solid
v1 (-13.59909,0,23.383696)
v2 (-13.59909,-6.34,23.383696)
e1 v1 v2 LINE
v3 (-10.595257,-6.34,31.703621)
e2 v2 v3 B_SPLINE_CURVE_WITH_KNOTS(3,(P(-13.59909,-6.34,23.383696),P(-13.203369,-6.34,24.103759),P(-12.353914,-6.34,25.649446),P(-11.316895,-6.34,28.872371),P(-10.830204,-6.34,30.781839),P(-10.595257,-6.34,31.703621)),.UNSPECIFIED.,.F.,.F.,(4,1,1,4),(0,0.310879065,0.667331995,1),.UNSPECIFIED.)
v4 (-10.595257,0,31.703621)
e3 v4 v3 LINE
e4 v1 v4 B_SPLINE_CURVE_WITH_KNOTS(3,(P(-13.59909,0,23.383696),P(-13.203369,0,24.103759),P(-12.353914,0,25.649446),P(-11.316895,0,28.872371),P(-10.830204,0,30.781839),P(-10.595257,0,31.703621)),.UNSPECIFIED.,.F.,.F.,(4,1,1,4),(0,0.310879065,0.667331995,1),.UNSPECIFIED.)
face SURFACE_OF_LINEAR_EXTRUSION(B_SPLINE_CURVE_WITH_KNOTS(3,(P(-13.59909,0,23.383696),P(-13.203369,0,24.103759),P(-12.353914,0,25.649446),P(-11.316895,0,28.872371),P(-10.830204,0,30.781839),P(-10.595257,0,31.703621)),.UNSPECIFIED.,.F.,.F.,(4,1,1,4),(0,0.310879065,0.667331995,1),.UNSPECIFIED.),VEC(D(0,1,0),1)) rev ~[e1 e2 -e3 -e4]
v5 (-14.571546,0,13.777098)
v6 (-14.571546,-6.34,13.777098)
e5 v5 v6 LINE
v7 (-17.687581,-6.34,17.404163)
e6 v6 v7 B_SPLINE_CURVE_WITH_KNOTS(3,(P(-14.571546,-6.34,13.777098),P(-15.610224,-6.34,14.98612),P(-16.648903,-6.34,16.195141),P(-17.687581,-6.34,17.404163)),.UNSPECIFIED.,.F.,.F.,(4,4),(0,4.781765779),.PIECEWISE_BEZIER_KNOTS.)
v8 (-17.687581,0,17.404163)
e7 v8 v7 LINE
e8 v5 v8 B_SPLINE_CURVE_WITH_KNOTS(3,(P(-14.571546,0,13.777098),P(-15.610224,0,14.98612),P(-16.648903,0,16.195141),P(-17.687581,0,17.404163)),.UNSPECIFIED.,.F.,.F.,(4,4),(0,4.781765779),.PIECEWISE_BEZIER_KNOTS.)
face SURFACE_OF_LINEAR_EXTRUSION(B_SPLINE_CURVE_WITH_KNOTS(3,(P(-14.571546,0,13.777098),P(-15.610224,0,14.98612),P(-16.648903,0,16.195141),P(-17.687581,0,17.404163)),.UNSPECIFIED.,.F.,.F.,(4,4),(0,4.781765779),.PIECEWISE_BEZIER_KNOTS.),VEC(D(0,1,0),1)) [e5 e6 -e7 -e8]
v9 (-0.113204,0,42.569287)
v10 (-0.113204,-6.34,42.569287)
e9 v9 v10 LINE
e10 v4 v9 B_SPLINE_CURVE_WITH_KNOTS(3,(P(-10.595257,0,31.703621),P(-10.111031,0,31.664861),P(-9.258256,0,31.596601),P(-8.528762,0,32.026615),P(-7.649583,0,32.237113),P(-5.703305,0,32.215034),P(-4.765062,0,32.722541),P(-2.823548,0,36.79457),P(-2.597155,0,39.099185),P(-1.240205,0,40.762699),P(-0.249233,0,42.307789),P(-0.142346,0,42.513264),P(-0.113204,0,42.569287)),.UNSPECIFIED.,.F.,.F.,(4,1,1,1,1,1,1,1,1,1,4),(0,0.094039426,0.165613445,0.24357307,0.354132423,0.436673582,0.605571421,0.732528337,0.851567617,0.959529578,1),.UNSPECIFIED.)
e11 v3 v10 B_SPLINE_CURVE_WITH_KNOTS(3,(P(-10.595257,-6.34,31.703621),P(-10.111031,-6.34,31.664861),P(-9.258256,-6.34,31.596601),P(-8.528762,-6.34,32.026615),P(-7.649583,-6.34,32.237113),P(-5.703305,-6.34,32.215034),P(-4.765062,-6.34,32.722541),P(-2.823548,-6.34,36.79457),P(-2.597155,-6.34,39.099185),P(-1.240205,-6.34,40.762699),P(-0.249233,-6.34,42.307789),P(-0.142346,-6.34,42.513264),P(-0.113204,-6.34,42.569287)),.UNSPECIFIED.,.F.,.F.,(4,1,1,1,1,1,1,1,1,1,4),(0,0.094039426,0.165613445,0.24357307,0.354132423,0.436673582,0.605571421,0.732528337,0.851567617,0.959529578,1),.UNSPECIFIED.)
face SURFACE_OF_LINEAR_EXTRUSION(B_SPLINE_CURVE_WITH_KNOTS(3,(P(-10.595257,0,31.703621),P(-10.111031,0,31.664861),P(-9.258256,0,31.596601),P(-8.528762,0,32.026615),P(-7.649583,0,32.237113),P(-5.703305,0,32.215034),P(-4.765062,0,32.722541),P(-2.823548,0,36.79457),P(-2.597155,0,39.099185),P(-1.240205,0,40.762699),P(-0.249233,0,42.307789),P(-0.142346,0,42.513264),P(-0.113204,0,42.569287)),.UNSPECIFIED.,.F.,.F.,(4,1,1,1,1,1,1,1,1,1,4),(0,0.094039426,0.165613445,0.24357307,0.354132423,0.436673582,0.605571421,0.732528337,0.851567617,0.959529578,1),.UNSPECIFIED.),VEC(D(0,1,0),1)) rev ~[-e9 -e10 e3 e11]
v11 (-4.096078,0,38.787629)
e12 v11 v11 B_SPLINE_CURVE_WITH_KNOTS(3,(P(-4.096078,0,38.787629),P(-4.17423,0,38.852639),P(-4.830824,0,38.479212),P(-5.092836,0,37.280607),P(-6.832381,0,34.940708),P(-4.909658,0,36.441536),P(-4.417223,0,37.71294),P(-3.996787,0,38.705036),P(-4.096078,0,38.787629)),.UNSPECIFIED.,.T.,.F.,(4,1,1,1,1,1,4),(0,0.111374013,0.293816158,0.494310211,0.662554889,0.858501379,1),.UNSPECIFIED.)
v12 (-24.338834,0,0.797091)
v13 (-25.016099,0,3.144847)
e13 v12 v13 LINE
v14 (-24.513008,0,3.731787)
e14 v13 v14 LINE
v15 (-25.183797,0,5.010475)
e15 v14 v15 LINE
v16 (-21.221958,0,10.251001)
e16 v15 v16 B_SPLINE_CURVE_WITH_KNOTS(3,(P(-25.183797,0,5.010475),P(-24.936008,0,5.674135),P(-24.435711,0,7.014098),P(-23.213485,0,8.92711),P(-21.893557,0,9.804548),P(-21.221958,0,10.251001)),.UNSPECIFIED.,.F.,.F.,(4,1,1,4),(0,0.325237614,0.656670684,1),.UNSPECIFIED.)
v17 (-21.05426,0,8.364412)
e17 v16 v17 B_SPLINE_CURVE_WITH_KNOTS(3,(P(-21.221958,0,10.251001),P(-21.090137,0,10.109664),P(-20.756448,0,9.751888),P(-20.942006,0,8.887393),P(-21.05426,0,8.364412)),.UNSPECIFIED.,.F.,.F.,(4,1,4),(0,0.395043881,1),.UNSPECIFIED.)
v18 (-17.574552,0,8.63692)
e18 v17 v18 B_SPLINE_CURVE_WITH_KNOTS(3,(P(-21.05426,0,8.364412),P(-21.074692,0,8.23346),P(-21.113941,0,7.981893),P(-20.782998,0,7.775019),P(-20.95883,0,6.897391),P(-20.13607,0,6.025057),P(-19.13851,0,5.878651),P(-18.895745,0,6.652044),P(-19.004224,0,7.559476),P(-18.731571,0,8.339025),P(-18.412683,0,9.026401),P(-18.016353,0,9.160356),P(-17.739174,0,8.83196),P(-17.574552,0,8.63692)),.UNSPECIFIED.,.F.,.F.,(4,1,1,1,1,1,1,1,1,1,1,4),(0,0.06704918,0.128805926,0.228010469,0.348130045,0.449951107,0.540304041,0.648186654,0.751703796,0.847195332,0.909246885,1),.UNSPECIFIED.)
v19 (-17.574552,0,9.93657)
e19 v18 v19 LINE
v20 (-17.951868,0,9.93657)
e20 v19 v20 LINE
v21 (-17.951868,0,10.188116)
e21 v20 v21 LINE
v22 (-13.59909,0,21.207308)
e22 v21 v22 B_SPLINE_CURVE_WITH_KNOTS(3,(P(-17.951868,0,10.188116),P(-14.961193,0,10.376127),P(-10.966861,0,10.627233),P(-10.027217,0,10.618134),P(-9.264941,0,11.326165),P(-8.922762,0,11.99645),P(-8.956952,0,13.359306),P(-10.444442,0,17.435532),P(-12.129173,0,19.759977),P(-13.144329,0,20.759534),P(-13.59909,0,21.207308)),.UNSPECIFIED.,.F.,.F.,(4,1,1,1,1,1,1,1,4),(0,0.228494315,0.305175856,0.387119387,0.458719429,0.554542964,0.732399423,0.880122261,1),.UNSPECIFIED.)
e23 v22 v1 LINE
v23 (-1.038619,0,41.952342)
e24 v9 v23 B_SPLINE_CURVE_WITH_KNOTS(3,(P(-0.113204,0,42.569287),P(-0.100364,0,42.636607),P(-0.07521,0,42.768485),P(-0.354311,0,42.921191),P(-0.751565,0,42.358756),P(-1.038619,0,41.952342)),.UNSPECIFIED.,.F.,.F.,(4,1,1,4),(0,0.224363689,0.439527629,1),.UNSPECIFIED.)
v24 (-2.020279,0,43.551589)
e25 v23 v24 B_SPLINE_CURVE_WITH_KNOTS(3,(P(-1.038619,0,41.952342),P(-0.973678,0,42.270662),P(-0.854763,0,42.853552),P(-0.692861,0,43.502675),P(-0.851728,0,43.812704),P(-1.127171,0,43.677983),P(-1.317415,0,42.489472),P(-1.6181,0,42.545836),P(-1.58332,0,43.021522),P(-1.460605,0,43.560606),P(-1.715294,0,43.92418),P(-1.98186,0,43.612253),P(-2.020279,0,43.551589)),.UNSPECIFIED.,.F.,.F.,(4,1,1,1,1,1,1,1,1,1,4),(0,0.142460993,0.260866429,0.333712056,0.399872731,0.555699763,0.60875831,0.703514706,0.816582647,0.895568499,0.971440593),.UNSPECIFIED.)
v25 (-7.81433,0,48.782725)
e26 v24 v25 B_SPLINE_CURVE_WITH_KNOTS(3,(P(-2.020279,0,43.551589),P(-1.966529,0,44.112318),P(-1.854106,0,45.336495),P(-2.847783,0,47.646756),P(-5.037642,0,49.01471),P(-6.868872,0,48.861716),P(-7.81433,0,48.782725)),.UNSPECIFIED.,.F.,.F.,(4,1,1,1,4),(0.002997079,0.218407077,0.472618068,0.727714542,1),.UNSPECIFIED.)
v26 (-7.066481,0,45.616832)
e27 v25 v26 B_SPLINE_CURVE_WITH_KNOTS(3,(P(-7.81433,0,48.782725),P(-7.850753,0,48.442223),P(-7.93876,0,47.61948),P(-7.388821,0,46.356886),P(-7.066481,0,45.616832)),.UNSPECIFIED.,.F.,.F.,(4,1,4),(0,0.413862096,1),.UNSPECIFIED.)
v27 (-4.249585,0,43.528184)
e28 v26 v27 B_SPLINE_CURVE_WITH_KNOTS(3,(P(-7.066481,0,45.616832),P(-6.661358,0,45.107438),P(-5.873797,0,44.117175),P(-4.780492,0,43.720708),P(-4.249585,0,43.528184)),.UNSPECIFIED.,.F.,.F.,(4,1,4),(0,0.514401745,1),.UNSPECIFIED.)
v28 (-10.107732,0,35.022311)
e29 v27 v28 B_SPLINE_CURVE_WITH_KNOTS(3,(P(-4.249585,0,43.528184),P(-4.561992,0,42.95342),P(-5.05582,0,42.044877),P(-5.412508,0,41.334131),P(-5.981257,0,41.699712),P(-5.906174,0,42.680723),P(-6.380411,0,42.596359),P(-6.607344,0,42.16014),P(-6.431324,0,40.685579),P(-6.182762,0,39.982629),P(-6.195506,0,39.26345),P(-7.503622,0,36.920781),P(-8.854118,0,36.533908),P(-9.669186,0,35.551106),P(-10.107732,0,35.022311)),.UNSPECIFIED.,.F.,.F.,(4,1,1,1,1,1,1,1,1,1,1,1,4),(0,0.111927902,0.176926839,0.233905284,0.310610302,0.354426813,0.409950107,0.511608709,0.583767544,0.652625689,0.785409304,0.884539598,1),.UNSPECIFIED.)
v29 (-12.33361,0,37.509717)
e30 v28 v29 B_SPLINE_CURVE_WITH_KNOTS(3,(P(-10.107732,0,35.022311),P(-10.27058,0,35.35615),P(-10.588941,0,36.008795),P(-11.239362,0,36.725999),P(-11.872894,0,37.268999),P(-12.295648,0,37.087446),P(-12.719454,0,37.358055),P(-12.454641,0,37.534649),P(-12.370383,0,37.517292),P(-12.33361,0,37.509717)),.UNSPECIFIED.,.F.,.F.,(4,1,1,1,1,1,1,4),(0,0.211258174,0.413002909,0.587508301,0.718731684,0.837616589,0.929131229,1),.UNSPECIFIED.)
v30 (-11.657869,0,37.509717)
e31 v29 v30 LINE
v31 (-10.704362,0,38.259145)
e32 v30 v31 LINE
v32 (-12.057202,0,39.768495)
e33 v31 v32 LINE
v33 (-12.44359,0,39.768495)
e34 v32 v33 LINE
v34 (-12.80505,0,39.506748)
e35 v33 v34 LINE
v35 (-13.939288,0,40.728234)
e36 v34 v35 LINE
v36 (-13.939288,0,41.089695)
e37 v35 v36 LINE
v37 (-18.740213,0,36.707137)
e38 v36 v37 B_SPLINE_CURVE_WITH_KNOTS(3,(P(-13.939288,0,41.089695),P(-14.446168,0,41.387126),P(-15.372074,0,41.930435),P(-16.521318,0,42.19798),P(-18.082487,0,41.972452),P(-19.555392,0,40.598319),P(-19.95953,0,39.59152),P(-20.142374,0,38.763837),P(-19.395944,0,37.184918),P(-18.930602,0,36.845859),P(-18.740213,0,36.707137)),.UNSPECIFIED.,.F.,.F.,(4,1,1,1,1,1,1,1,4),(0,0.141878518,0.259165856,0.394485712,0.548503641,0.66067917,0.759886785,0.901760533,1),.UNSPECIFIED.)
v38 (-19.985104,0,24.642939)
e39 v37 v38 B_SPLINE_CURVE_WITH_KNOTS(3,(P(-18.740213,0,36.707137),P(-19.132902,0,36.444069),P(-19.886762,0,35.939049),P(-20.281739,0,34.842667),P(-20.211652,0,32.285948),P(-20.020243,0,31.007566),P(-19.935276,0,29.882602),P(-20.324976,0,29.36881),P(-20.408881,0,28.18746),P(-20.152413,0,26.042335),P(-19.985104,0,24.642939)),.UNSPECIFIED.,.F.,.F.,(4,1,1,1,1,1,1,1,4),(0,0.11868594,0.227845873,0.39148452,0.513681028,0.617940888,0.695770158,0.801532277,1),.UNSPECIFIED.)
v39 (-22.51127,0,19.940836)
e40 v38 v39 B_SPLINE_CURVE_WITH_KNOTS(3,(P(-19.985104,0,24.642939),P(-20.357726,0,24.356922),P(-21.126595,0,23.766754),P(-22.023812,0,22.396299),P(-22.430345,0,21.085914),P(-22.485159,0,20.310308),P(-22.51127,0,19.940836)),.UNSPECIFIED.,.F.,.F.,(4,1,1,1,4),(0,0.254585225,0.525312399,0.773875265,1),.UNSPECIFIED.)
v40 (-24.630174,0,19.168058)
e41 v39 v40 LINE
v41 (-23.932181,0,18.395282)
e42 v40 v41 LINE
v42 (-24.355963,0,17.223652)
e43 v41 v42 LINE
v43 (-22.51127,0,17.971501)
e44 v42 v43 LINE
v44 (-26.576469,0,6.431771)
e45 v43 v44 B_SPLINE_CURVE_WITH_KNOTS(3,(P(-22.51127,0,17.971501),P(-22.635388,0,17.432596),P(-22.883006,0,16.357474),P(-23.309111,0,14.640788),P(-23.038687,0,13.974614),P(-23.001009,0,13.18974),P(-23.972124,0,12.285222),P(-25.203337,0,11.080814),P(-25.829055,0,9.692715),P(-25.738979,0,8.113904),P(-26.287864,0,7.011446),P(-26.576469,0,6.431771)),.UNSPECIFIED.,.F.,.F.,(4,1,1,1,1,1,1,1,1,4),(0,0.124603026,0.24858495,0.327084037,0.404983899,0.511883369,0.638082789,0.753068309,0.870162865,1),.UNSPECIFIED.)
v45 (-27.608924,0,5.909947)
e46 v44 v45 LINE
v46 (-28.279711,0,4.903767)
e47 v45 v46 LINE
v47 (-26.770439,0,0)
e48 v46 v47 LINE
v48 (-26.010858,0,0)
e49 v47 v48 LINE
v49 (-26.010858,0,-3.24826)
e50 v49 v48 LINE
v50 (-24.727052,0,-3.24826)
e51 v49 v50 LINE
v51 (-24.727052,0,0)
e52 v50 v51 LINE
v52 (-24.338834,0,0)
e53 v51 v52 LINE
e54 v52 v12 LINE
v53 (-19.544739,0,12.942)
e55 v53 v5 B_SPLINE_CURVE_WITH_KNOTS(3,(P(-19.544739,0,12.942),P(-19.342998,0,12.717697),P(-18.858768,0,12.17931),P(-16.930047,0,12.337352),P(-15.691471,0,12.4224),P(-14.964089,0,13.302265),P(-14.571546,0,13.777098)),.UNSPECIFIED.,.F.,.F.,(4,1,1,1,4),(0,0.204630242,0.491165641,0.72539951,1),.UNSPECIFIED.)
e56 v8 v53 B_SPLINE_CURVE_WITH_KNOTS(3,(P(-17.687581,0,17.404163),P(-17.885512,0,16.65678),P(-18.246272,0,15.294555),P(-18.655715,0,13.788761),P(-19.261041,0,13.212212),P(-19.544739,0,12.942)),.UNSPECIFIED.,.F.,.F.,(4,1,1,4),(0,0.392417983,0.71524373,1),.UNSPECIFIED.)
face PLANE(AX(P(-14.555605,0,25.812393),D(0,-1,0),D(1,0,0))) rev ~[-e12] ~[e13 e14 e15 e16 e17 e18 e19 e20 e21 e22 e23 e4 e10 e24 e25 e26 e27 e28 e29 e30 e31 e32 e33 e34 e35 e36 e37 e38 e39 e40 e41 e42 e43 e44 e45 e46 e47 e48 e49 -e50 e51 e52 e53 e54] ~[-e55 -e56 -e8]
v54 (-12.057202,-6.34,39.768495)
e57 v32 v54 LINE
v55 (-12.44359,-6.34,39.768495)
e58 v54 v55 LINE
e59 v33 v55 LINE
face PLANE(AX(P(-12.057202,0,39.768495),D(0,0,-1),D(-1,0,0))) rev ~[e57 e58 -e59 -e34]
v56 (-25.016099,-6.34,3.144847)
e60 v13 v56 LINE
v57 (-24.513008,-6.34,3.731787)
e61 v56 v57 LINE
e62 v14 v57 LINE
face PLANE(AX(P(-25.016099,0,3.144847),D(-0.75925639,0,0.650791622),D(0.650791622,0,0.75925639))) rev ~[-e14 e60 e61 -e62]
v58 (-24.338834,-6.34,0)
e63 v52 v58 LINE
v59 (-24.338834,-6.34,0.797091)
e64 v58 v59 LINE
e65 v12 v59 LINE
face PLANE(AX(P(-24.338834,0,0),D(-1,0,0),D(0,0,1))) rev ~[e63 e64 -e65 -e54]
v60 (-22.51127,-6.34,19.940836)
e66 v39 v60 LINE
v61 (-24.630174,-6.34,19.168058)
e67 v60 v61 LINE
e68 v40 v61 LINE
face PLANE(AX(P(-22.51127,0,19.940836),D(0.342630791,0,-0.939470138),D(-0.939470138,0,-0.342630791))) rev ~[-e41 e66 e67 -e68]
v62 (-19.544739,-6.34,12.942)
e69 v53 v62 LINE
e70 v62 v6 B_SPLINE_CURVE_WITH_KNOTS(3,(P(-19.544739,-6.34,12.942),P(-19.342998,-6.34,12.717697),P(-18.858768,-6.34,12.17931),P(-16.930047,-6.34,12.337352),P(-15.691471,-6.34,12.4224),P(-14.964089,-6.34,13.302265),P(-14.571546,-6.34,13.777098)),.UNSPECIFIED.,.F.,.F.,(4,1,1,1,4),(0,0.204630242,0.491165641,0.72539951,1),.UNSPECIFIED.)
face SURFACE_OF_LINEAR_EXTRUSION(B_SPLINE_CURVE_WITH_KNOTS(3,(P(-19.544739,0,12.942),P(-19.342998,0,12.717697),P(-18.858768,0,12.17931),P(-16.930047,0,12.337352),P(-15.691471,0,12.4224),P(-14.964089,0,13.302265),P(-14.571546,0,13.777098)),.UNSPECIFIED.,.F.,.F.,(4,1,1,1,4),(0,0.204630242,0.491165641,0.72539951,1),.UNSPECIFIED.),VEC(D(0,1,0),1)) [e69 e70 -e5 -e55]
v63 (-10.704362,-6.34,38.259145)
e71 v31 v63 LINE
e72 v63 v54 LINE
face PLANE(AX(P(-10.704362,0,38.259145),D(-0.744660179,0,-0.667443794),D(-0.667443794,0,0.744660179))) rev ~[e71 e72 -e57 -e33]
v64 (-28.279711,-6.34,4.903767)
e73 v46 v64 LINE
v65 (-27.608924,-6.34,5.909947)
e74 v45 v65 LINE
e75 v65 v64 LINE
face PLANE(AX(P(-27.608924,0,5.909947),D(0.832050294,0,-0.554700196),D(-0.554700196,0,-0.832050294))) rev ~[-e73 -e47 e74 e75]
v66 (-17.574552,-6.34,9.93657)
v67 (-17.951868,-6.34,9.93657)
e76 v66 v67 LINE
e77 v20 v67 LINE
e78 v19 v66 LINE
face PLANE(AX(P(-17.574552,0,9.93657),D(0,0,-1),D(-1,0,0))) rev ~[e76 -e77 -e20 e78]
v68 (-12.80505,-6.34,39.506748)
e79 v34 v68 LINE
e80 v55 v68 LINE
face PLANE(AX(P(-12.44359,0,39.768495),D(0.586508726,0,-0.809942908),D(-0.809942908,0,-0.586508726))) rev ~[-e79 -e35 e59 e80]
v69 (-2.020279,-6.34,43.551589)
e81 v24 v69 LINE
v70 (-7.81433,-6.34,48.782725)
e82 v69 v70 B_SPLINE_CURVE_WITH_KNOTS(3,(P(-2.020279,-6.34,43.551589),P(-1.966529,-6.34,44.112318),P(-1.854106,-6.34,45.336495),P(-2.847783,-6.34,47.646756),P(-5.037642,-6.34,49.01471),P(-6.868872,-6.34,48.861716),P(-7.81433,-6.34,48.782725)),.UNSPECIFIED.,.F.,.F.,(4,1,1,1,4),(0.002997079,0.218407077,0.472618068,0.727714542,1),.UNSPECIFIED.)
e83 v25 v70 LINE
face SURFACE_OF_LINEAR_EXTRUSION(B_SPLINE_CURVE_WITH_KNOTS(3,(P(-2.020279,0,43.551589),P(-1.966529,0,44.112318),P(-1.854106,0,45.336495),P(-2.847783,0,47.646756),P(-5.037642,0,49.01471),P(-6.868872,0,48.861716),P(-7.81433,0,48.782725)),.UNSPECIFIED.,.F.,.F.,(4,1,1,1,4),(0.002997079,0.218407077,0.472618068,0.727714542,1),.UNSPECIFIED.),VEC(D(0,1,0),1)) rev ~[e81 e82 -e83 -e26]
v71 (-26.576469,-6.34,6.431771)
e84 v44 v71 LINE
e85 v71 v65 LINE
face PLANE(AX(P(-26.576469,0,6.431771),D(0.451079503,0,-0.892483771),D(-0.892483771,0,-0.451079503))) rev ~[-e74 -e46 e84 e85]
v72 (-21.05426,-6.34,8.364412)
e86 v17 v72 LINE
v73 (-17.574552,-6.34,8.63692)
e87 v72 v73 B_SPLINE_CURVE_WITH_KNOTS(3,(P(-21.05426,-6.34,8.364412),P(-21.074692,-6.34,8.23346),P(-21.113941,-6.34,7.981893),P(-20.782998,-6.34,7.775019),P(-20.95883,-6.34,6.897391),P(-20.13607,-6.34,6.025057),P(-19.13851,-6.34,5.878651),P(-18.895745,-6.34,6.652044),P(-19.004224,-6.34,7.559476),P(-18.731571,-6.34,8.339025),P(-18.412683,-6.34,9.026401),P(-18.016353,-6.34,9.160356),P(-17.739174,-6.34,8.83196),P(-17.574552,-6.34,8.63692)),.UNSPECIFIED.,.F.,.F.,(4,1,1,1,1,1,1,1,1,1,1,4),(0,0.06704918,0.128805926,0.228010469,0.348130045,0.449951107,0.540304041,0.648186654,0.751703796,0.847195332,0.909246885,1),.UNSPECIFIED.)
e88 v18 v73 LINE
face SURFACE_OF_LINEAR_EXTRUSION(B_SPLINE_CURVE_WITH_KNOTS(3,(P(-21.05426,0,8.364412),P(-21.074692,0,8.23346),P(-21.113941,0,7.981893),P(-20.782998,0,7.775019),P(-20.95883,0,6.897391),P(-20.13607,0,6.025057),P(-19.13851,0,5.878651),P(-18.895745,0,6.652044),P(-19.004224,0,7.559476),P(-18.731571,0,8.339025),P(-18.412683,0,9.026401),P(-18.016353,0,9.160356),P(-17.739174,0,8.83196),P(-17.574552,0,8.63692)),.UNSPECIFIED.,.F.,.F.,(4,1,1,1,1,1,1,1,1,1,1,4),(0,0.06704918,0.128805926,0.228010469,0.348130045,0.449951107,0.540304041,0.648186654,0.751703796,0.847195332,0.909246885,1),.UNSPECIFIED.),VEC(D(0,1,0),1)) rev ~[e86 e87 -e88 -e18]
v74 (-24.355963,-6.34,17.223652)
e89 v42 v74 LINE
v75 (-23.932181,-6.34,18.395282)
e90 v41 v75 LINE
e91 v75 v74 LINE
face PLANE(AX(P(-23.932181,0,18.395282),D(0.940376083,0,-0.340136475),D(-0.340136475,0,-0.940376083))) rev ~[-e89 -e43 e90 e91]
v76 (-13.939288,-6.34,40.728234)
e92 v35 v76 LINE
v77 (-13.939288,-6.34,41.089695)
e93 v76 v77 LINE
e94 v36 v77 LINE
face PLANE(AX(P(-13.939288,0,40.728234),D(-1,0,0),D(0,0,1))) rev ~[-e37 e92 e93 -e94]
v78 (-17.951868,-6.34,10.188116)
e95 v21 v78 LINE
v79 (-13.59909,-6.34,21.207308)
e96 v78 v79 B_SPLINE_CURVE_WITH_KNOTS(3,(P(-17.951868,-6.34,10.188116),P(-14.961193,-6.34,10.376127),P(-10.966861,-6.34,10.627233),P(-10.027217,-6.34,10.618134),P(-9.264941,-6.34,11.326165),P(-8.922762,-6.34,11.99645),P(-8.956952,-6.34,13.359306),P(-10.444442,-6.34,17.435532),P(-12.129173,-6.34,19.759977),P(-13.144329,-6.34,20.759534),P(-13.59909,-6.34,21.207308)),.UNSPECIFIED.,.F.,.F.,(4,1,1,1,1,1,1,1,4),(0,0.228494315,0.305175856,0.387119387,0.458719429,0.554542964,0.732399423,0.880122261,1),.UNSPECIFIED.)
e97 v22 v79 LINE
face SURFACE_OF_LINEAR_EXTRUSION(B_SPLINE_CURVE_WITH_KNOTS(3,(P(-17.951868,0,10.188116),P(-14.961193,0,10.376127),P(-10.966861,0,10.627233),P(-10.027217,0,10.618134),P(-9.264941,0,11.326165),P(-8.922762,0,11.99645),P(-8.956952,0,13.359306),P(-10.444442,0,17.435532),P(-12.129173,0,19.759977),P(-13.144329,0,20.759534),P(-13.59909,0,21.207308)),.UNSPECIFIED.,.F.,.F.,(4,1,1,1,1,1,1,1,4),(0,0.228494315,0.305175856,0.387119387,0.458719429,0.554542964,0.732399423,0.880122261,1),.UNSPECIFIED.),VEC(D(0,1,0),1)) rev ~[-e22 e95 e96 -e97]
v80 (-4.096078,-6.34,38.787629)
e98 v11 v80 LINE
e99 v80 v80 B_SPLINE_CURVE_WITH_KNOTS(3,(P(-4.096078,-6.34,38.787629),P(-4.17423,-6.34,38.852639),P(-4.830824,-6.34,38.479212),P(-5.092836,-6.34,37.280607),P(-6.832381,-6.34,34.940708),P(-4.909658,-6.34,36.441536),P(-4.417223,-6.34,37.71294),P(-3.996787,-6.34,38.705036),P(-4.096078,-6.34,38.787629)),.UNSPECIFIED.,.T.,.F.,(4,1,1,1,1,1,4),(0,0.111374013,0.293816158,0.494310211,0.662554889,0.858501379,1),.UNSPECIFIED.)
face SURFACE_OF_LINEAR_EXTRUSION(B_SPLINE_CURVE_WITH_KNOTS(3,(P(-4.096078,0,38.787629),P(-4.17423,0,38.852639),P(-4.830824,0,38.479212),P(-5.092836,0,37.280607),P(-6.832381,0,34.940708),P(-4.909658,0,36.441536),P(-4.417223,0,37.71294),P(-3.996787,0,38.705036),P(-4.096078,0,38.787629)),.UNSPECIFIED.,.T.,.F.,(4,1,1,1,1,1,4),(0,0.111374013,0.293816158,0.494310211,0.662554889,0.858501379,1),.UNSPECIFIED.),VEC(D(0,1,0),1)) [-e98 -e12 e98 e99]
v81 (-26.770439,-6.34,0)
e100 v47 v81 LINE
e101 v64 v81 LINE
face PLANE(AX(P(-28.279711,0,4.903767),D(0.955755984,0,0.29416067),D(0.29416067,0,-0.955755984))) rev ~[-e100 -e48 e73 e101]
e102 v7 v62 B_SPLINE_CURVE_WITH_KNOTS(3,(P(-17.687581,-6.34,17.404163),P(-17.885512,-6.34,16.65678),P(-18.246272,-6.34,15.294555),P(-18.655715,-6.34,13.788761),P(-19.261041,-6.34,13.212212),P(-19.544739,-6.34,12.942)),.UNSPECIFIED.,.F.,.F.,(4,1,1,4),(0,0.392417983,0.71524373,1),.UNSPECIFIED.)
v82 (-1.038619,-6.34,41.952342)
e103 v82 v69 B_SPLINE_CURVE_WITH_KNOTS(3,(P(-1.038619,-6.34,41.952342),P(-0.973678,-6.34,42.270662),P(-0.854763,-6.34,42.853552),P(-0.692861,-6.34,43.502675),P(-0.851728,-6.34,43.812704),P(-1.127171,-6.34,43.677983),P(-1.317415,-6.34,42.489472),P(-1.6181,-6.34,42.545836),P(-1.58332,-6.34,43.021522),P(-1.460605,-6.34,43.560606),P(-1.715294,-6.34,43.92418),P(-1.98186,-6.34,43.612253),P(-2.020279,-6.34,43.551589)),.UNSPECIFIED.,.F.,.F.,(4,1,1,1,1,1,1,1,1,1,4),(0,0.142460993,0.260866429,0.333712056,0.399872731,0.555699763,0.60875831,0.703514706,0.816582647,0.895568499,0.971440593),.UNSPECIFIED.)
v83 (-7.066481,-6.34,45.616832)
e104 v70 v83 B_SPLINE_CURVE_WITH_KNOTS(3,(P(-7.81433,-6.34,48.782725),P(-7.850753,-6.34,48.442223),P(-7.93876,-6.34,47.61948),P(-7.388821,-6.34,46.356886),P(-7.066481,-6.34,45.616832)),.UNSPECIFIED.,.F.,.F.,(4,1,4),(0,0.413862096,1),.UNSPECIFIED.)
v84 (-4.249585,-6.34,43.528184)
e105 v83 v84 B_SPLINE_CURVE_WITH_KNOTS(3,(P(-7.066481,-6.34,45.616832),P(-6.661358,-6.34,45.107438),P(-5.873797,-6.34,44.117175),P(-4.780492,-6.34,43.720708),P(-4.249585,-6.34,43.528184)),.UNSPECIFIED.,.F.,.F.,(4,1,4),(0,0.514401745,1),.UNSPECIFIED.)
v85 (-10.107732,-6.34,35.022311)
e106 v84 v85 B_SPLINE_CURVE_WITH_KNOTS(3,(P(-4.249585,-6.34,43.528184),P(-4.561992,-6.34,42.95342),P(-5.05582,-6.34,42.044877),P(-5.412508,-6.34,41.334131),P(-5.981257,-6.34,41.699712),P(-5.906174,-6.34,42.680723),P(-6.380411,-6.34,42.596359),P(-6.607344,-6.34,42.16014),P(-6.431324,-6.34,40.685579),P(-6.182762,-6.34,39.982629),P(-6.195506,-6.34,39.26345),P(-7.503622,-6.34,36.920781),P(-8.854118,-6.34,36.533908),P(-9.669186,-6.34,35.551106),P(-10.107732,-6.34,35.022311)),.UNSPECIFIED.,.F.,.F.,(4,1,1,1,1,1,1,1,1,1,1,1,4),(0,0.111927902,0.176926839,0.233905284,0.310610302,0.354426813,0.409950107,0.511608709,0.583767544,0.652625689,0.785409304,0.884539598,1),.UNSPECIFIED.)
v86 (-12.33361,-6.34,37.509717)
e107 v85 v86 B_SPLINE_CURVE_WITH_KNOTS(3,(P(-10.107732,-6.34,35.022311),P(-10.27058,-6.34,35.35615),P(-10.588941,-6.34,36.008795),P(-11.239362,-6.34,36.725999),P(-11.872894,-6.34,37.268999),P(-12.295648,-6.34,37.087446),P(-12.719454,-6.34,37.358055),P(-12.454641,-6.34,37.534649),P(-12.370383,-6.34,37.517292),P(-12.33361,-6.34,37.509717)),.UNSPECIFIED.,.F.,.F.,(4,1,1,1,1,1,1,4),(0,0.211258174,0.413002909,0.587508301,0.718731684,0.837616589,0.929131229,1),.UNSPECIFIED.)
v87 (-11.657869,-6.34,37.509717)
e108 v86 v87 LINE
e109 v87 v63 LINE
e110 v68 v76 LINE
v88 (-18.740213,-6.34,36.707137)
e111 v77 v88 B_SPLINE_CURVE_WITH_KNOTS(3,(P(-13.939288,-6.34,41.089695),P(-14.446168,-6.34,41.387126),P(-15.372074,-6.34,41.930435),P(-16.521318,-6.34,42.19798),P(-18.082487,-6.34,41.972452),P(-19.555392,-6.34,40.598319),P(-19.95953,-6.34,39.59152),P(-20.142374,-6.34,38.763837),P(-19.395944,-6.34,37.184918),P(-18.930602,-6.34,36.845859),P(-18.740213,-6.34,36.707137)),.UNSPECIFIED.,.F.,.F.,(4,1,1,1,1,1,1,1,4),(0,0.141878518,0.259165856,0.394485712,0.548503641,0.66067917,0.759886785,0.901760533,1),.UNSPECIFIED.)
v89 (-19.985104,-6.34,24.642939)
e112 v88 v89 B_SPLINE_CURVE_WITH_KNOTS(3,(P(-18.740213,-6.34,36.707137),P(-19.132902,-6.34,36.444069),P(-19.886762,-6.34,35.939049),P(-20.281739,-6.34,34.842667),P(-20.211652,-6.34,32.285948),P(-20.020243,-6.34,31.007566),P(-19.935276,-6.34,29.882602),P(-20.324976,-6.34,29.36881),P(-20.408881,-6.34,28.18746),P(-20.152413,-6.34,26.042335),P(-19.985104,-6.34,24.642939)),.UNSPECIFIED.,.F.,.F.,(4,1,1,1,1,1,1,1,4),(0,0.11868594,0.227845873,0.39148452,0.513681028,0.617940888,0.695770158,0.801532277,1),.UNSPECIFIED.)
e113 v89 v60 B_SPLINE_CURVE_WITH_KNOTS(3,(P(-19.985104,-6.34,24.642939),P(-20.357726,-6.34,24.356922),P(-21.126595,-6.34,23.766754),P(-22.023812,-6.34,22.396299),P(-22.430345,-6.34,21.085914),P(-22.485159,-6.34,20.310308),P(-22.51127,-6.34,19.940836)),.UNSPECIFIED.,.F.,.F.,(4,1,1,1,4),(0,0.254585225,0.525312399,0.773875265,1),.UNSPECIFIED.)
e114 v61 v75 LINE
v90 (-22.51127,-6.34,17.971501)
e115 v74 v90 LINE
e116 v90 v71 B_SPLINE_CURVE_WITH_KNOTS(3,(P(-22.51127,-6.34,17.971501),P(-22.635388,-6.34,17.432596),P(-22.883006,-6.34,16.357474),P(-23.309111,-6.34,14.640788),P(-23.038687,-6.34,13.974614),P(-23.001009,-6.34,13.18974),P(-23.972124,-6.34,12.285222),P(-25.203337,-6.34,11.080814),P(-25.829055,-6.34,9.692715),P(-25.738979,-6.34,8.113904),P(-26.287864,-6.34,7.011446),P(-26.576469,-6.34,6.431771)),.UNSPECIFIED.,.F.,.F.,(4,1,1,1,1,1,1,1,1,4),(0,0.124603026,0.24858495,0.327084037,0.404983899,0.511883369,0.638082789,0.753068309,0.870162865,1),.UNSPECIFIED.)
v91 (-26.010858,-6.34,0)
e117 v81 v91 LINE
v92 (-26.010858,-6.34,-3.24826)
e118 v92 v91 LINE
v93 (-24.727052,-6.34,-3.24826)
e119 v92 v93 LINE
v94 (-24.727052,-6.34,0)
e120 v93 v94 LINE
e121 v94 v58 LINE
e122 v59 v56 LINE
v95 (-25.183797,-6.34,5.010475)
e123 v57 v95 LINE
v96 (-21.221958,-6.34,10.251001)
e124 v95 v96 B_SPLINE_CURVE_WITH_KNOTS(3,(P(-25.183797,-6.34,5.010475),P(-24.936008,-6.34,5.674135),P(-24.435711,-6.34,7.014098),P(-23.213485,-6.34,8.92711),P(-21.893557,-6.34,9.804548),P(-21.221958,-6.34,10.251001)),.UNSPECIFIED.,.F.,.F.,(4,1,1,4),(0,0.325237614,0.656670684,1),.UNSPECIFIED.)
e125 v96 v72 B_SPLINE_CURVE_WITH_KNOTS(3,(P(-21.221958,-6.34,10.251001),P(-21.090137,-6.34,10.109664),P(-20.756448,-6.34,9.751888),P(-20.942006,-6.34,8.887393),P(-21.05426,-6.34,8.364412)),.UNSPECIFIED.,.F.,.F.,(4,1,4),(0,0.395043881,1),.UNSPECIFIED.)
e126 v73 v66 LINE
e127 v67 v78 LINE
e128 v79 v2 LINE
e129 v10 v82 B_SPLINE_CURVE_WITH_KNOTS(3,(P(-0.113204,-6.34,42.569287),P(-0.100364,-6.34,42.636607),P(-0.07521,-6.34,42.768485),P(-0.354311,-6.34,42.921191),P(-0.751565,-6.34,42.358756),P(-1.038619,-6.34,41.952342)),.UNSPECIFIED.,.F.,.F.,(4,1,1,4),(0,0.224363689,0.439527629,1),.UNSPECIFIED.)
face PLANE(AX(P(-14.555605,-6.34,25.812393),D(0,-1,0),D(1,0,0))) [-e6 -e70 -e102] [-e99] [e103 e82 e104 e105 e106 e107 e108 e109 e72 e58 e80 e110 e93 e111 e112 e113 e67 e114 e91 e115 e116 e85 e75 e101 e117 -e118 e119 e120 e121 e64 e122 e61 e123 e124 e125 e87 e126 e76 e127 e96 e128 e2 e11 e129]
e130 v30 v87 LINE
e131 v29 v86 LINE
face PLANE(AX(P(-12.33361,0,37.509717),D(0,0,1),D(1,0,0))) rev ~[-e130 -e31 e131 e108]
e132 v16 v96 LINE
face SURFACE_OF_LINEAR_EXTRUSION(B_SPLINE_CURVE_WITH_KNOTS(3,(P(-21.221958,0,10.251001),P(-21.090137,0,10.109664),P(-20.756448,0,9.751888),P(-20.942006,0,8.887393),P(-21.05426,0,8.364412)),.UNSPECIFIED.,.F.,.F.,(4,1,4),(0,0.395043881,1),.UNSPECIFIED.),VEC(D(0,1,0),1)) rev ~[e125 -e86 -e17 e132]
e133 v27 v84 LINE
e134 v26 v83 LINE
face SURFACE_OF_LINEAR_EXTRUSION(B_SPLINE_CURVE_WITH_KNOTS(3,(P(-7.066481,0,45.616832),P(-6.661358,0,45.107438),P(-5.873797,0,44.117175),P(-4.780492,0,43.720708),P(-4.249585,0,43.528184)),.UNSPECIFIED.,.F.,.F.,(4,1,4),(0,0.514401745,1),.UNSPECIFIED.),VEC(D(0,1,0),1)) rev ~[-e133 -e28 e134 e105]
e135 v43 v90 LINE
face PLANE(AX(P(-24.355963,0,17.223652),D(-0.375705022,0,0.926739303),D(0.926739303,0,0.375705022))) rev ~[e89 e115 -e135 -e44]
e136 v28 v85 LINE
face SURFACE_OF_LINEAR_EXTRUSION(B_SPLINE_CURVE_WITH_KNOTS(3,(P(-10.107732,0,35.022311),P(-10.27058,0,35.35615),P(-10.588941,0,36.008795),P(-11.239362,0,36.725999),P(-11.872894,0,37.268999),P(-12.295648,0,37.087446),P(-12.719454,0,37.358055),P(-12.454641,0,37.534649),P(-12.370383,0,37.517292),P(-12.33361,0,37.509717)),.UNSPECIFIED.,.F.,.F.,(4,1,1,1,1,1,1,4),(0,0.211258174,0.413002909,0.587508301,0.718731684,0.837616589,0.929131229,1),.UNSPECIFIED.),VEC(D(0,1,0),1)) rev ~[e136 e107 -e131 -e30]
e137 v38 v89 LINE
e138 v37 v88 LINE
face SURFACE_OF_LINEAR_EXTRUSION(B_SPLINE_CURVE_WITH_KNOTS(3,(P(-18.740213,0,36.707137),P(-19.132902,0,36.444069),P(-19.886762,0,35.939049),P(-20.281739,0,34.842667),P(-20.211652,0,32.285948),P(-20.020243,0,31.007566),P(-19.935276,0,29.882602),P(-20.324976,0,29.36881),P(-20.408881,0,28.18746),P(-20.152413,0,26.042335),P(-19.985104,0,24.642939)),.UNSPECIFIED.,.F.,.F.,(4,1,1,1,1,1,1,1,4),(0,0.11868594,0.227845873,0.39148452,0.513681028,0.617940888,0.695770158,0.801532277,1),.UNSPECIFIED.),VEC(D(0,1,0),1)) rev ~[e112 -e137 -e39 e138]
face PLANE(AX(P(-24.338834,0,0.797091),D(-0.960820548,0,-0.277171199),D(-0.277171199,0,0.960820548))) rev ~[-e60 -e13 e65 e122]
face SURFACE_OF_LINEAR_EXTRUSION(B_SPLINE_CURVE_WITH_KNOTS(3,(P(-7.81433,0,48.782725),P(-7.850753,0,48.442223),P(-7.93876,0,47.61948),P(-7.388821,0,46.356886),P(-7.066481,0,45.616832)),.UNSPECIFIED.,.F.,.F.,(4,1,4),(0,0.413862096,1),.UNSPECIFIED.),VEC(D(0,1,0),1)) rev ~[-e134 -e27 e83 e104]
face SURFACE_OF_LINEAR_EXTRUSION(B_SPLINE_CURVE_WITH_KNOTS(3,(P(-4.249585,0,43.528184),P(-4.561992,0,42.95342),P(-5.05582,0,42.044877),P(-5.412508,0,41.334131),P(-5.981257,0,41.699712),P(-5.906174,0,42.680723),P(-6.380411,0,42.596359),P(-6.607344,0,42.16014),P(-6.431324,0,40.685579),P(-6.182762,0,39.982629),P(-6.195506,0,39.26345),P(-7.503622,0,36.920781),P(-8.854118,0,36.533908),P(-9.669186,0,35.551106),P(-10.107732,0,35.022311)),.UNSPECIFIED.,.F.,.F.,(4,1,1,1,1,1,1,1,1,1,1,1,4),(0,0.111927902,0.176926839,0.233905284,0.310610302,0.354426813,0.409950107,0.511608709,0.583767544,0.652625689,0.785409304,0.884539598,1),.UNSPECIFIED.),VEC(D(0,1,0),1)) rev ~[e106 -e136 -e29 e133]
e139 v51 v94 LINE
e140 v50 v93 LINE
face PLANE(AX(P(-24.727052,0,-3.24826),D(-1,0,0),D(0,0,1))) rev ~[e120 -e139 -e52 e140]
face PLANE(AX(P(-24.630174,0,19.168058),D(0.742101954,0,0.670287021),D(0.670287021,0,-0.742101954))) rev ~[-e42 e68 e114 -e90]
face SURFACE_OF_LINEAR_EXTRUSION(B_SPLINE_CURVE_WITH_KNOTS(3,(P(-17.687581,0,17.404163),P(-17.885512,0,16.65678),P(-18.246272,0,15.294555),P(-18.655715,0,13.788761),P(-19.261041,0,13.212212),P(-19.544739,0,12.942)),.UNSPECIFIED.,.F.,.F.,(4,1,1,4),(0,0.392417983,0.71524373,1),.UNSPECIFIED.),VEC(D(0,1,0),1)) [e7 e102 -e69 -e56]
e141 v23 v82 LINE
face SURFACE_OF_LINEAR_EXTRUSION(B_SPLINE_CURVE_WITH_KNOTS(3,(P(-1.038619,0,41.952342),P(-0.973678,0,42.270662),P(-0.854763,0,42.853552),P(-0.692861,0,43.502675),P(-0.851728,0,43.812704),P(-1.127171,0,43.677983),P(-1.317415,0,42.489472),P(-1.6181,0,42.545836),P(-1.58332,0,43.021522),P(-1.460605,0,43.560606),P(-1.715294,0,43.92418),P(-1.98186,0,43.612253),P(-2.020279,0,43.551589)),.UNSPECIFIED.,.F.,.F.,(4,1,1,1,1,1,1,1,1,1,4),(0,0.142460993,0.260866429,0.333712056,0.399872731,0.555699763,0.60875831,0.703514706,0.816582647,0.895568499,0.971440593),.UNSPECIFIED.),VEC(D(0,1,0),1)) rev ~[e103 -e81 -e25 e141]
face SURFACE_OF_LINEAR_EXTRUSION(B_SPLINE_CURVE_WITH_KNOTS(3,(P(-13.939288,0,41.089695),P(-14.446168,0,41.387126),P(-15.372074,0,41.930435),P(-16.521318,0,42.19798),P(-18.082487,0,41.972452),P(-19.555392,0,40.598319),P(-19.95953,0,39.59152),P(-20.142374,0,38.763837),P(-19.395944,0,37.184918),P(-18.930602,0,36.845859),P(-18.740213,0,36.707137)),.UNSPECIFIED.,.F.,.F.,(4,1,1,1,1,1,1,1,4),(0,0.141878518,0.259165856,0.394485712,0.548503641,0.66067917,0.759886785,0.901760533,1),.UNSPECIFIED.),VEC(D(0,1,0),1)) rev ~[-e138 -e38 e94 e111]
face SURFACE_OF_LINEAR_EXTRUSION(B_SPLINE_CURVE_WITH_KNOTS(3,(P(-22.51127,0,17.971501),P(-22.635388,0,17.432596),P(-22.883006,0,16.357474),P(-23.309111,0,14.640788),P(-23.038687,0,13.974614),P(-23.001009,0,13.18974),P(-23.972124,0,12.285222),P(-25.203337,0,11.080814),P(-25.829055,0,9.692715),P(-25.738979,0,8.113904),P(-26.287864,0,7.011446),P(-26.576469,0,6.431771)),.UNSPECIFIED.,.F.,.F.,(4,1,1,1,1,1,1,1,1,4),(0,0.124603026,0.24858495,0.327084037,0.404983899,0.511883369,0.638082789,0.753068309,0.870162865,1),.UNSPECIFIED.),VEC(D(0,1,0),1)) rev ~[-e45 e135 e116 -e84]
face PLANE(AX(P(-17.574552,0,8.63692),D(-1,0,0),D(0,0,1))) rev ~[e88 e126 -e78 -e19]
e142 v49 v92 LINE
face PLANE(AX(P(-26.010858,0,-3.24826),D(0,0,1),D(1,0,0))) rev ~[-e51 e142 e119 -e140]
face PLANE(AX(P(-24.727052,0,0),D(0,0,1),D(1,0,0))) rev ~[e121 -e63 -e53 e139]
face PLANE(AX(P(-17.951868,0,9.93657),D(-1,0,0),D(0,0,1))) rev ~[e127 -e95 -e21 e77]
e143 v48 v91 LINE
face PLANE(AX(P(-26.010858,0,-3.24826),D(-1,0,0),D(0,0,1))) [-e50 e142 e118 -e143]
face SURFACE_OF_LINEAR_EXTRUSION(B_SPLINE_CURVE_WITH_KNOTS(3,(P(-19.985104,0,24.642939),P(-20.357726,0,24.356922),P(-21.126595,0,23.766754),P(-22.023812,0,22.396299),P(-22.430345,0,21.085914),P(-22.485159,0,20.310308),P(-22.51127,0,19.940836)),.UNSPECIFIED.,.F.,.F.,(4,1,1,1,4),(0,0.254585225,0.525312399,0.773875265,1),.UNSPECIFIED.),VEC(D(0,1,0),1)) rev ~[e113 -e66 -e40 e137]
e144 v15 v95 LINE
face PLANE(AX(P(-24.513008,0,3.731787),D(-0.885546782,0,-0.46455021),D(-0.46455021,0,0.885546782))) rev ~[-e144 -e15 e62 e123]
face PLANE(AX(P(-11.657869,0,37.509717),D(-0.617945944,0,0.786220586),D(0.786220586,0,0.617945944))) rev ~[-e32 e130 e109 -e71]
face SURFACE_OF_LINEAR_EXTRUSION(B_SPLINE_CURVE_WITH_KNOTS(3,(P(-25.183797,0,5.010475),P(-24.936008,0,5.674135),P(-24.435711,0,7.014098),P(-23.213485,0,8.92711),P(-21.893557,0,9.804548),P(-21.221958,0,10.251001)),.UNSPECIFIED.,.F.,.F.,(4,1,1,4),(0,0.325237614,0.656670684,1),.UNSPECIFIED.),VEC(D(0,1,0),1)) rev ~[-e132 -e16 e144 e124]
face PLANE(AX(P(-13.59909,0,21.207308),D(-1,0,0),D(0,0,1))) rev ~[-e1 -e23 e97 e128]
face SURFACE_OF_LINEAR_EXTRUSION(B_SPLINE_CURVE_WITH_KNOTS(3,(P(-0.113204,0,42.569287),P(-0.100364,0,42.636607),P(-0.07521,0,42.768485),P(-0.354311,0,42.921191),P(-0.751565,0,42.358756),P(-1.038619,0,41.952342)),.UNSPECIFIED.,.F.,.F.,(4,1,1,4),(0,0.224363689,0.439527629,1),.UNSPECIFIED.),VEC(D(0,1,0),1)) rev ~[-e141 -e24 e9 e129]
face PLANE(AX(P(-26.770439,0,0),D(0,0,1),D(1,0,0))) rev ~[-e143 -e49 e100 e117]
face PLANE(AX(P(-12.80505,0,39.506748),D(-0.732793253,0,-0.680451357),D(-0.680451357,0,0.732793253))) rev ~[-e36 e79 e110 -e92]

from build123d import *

# Parameters (mm, degrees)
F0_W     = 1.2838058174
F0_H     = 3.2482598908
F1_DEPTH = 6.34


with BuildPart() as f1:
    # F0 (on Front) → F1 (new body)
    with BuildSketch(Plane.XZ):
        with BuildLine():
            Line((-24.7270520777, 0), (-24.3388339877, 0))
            Line((-24.3388339877, 0), (-24.3388339877, 0.7970914594))
            Line((-24.3388339877, 0.7970914594), (-25.0160992146, 3.144847462))
            Line((-25.0160992146, 3.144847462), (-24.513008073, 3.7317867391))
            Line((-24.513008073, 3.7317867391), (-25.1837968826, 5.0104749389))
            add(Edge.make_bspline(
                [(-25.1837968826, 5.0104749389), (-24.9360081786, 5.6741353226), (-24.4357106392, 7.0140981684), (-23.2134845461, 8.9271097869), (-21.8935571427, 9.804547742), (-21.2219581008, 10.2510014549)],
                knots=[0, 0, 0, 0, 0.3252376136, 0.6566706842, 1, 1, 1, 1], degree=3))
            add(Edge.make_bspline(
                [(-21.2219581008, 10.2510014549), (-21.0901365451, 10.1096641545), (-20.7564481574, 9.7518879497), (-20.9420060501, 8.8873933191), (-21.0542604327, 8.3644120023)],
                knots=[0, 0, 0, 0, 0.3950438807, 1, 1, 1, 1], degree=3))
            add(Edge.make_bspline(
                [(-21.0542604327, 8.3644120023), (-21.0746916015, 8.2334603255), (-21.1139412331, 7.9818934616), (-20.782998182, 7.775018596), (-20.9588297453, 6.897391144), (-20.1360697678, 6.0250570271), (-19.1385099102, 5.8786512681), (-18.8957448786, 6.6520435976), (-19.0042244643, 7.5594762592), (-18.7315711547, 8.3390252117), (-18.4126827926, 9.0264007435), (-18.0163530026, 9.1603561942), (-17.7391736552, 8.8319596785), (-17.5745524466, 8.6369197816)],
                knots=[0, 0, 0, 0, 0.0670491803, 0.1288059261, 0.2280104688, 0.348130045, 0.4499511069, 0.5403040407, 0.6481866536, 0.751703796, 0.8471953323, 0.9092468854, 1, 1, 1, 1], degree=3))
            Line((-17.5745524466, 8.6369197816), (-17.5745524466, 9.9365701899))
            Line((-17.5745524466, 9.9365701899), (-17.9518684745, 9.9365701899))
            Line((-17.9518684745, 9.9365701899), (-17.9518684745, 10.1881157607))
            add(Edge.make_bspline(
                [(-17.9518684745, 10.1881157607), (-14.9611926135, 10.3761266988), (-10.9668609879, 10.6272331614), (-10.0272173773, 10.6181343012), (-9.2649407414, 11.3261649448), (-8.9227619802, 11.9964495578), (-8.9569521809, 13.3593063975), (-10.4444418479, 17.4355320158), (-12.1291734083, 19.7599773705), (-13.1443285433, 20.7595342525), (-13.5990902781, 21.2073083967)],
                knots=[0, 0, 0, 0, 0.2284943146, 0.3051758564, 0.3871193866, 0.4587194294, 0.5545429642, 0.7323994228, 0.8801222606, 1, 1, 1, 1], degree=3))
            Line((-13.5990902781, 21.2073083967), (-13.5990902781, 23.3836956322))
            add(Edge.make_bspline(
                [(-13.5990902781, 23.3836956322), (-13.2033688275, 24.1037593733), (-12.3539144424, 25.6494458691), (-11.31689474, 28.8723710038), (-10.8302038167, 30.7818394577), (-10.595257394, 31.7036211491)],
                knots=[0, 0, 0, 0, 0.3108790653, 0.6673319952, 1, 1, 1, 1], degree=3))
            add(Edge.make_bspline(
                [(-10.595257394, 31.7036211491), (-10.1110306796, 31.6648612587), (-9.2582558661, 31.596600964), (-8.5287621138, 32.0266146808), (-7.6495829588, 32.2371133725), (-5.7033050727, 32.2150335985), (-4.7650617943, 32.7225411848), (-2.82354789, 36.7945701691), (-2.597154675, 39.0991846287), (-1.2402045822, 40.7626985253), (-0.2492331373, 42.3077892144), (-0.1423464776, 42.5132639691), (-0.1132035904, 42.5692871213)],
                knots=[0, 0, 0, 0, 0.0940394263, 0.1656134448, 0.2435730705, 0.3541324227, 0.4366735821, 0.6055714206, 0.7325283373, 0.8515676174, 0.9595295784, 1, 1, 1, 1], degree=3))
            add(Edge.make_bspline(
                [(-0.1132035904, 42.5692871213), (-0.1003636923, 42.6366066025), (-0.0752103797, 42.7684852148), (-0.3543109772, 42.9211913938), (-0.7515646832, 42.3587559131), (-1.0386189679, 41.952341795)],
                knots=[0, 0, 0, 0, 0.2243636889, 0.439527629, 1, 1, 1, 1], degree=3))
            add(Edge.make_bspline(
                [(-1.0386189679, 41.952341795), (-0.9736782471, 42.2706619918), (-0.8547625104, 42.8535517457), (-0.6928613783, 43.5026749394), (-0.8517279488, 43.8127040158), (-1.1271709596, 43.6779826131), (-1.3174152243, 42.4894717547), (-1.6180996863, 42.5458357072), (-1.5833200601, 43.0215215774), (-1.4606054455, 43.5606056294), (-1.7152937452, 43.9241798123), (-1.9818597463, 43.6122534582), (-2.020279035, 43.5515888711)],
                knots=[0, 0, 0, 0, 0.1424609926, 0.2608664287, 0.3337120561, 0.3998727312, 0.5556997632, 0.6087583096, 0.7035147058, 0.8165826466, 0.8955684995, 0.9714405932, 0.9714405932, 0.9714405932, 0.9714405932], degree=3))
            add(Edge.make_bspline(
                [(-2.020279035, 43.5515888711), (-1.9665285121, 44.1123177218), (-1.8541061859, 45.3364950253), (-2.8477834926, 47.6467559763), (-5.0376424509, 49.0147104675), (-6.8688723955, 48.8617156035), (-7.8143300489, 48.7827248871)],
                knots=[0.0029970787, 0.0029970787, 0.0029970787, 0.0029970787, 0.2184070775, 0.4726180675, 0.7277145419, 1, 1, 1, 1], degree=3))
            add(Edge.make_bspline(
                [(-7.8143300489, 48.7827248871), (-7.8507529076, 48.4422228487), (-7.9387601427, 47.6194800991), (-7.3888212886, 46.3568859306), (-7.0664812811, 45.6168316305)],
                knots=[0, 0, 0, 0, 0.4138620956, 1, 1, 1, 1], degree=3))
            add(Edge.make_bspline(
                [(-7.0664812811, 45.6168316305), (-6.6613584947, 45.1074383398), (-5.8737974291, 44.117174804), (-4.780492047, 43.7207079212), (-4.2495848611, 43.5281842947)],
                knots=[0, 0, 0, 0, 0.5144017449, 1, 1, 1, 1], degree=3))
            add(Edge.make_bspline(
                [(-4.2495848611, 43.5281842947), (-4.5619915954, 42.9534198697), (-5.0558196294, 42.0448774), (-5.41250772, 41.3341307741), (-5.9812565726, 41.6997117478), (-5.9061742233, 42.6807233221), (-6.380410982, 42.596358722), (-6.6073441847, 42.1601401182), (-6.4313236991, 40.6855794056), (-6.1827621395, 39.9826288637), (-6.1955064747, 39.2634496731), (-7.5036219379, 36.9207808558), (-8.854117564, 36.5339075867), (-9.6691855261, 35.5511064846), (-10.1077323779, 35.0223109126)],
                knots=[0, 0, 0, 0, 0.1119279025, 0.1769268392, 0.2339052836, 0.3106103021, 0.3544268132, 0.4099501071, 0.5116087093, 0.5837675437, 0.6526256891, 0.7854093038, 0.8845395984, 1, 1, 1, 1], degree=3))
            add(Edge.make_bspline(
                [(-10.1077323779, 35.0223109126), (-10.2705796422, 35.3561502748), (-10.5889407858, 36.0087954487), (-11.2393623031, 36.7259988109), (-11.8728944317, 37.2689992422), (-12.2956483708, 37.0874457652), (-12.7194543154, 37.358054616), (-12.4546408787, 37.5346485539), (-12.3703827539, 37.5172919613), (-12.3336100951, 37.5097170472)],
                knots=[0, 0, 0, 0, 0.2112581739, 0.4130029087, 0.5875083013, 0.7187316843, 0.837616589, 0.9291312289, 1, 1, 1, 1], degree=3))
            Line((-12.3336100951, 37.5097170472), (-11.657868512, 37.5097170472))
            Line((-11.657868512, 37.5097170472), (-10.7043618336, 38.2591448724))
            Line((-10.7043618336, 38.2591448724), (-12.0572019368, 39.7684946656))
            Line((-12.0572019368, 39.7684946656), (-12.4435899779, 39.7684946656))
            Line((-12.4435899779, 39.7684946656), (-12.805050239, 39.5067483187))
            Line((-12.805050239, 39.5067483187), (-13.9392875135, 40.7282337546))
            Line((-13.9392875135, 40.7282337546), (-13.9392875135, 41.089694947))
            add(Edge.make_bspline(
                [(-13.9392875135, 41.089694947), (-14.4461682119, 41.3871259071), (-15.3720742057, 41.9304354267), (-16.5213175434, 42.1979800186), (-18.0824872105, 41.9724518701), (-19.5553919349, 40.5983188078), (-19.9595301976, 39.5915201061), (-20.1423742983, 38.7638365322), (-19.3959442952, 37.184917634), (-18.9306018668, 36.8458587083), (-18.7402125448, 36.70713678)],
                knots=[0, 0, 0, 0, 0.141878518, 0.2591658562, 0.3944857119, 0.5485036413, 0.6606791704, 0.7598867851, 0.9017605329, 1, 1, 1, 1], degree=3))
            add(Edge.make_bspline(
                [(-18.7402125448, 36.70713678), (-19.1329017208, 36.4440694725), (-19.8867619347, 35.9390492457), (-20.2817393211, 34.8426665428), (-20.2116518829, 32.2859479629), (-20.0202430129, 31.0075655902), (-19.9352758712, 29.8826015832), (-20.324975533, 29.3688097583), (-20.4088811201, 28.187460033), (-20.1524134917, 26.0423349634), (-19.9851039797, 24.642938748)],
                knots=[0, 0, 0, 0, 0.1186859401, 0.2278458731, 0.3914845202, 0.5136810281, 0.6179408881, 0.6957701582, 0.8015322765, 1, 1, 1, 1], degree=3))
            add(Edge.make_bspline(
                [(-19.9851039797, 24.642938748), (-20.357725577, 24.3569222202), (-21.126594804, 23.7667543174), (-22.0238119107, 22.3962993632), (-22.4303447276, 21.0859143373), (-22.4851585096, 20.310308241), (-22.5112698972, 19.9408363551)],
                knots=[0, 0, 0, 0, 0.2545852253, 0.5253123995, 0.773875265, 1, 1, 1, 1], degree=3))
            Line((-22.5112698972, 19.9408363551), (-24.6301740408, 19.1680584103))
            Line((-24.6301740408, 19.1680584103), (-23.9321812987, 18.3952823281))
            Line((-23.9321812987, 18.3952823281), (-24.3559628725, 17.2236524522))
            Line((-24.3559628725, 17.2236524522), (-22.5112698972, 17.9715007544))
            add(Edge.make_bspline(
                [(-22.5112698972, 17.9715007544), (-22.6353880049, 17.4325963973), (-22.8830055361, 16.3574739274), (-23.3091109183, 14.640788089), (-23.0386866004, 13.9746135037), (-23.0010088415, 13.1897398016), (-23.9721242046, 12.2852223294), (-25.2033372464, 11.0808142199), (-25.8290548715, 9.6927148626), (-25.7389786836, 8.1139038165), (-26.2878638802, 7.0114455504), (-26.576468721, 6.4317709766)],
                knots=[0, 0, 0, 0, 0.1246030257, 0.2485849503, 0.3270840375, 0.4049838987, 0.511883369, 0.6380827892, 0.7530683094, 0.8701628652, 1, 1, 1, 1], degree=3))
            Line((-26.576468721, 6.4317709766), (-27.608923614, 5.9099472128))
            Line((-27.608923614, 5.9099472128), (-28.279710561, 4.9037667923))
            Line((-28.279710561, 4.9037667923), (-26.7704389989, 0))
            Line((-26.7704389989, 0), (-26.010857895, 0))
            Line((-26.010857895, 0), (-24.7270520777, 0))
        make_face()
        with BuildLine():
            add(Edge.make_bspline(
                [(-17.6875814795, 17.4041632563), (-17.8855119591, 16.6567795652), (-18.2462715079, 15.2945547892), (-18.6557148813, 13.7887608441), (-19.2610405105, 13.2122121388), (-19.5447392762, 12.9420002922)],
                knots=[0, 0, 0, 0, 0.392417983, 0.7152437301, 1, 1, 1, 1], degree=3))
            add(Edge.make_bspline(
                [(-14.5715456456, 13.7770976871), (-15.6102242569, 14.9861195435), (-16.6489028682, 16.1951413999), (-17.6875814795, 17.4041632563)],
                knots=[0, 0, 0, 0, 4.7817657786, 4.7817657786, 4.7817657786, 4.7817657786], degree=3))
            add(Edge.make_bspline(
                [(-19.5447392762, 12.9420002922), (-19.3429982882, 12.717696593), (-18.8587676057, 12.1793095528), (-16.9300473979, 12.3373523912), (-15.6914707042, 12.4223998147), (-14.964088778, 13.3022647131), (-14.5715456456, 13.7770976871)],
                knots=[0, 0, 0, 0, 0.2046302418, 0.4911656411, 0.7253995103, 1, 1, 1, 1], degree=3))
        make_face(mode=Mode.SUBTRACT)
        with BuildLine():
            add(Edge.make_bspline(
                [(-4.0960782208, 38.7876294553), (-4.1742304679, 38.8526393175), (-4.8308244208, 38.479212487), (-5.0928360866, 37.2806066316), (-6.8323814657, 34.9407080776), (-4.9096578014, 36.4415356323), (-4.4172231063, 37.7129399412), (-3.9967872385, 38.7050356297), (-4.0960782208, 38.7876294553)],
                knots=[0, 0, 0, 0, 0.1113740132, 0.2938161584, 0.4943102113, 0.6625548891, 0.8585013793, 1, 1, 1, 1], degree=3))
        make_face(mode=Mode.SUBTRACT)
        with BuildLine():
            add(Edge.make_bspline(
                [(-2.020279035, 43.5515888711), (-2.0278036087, 43.5397074654), (-2.0354691998, 43.5236668469), (-2.0267202042, 43.5267198241), (-2.022523433, 43.5281842947)],
                knots=[0.9714405932, 0.9714405932, 0.9714405932, 0.9714405932, 0.9863004508, 1, 1, 1, 1], degree=3))
            add(Edge.make_bspline(
                [(-2.022523433, 43.5281842947), (-2.0217751594, 43.5359857693), (-2.0210268859, 43.543787244), (-2.020279035, 43.5515888711)],
                knots=[0, 0, 0, 0, 0.0029970787, 0.0029970787, 0.0029970787, 0.0029970787], degree=3))
        make_face(mode=Mode.SUBTRACT)
        with Locations((-25.3689549863, -1.6241299454)):
            Rectangle(F0_W, F0_H)
        with BuildLine():
            add(Edge.make_bspline(
                [(-2.022523433, 43.5281842947), (-2.0217751594, 43.5359857693), (-2.0210268859, 43.543787244), (-2.020279035, 43.5515888711)],
                knots=[0, 0, 0, 0, 0.0029970787, 0.0029970787, 0.0029970787, 0.0029970787], degree=3))
            add(Edge.make_bspline(
                [(-2.020279035, 43.5515888711), (-2.0278036087, 43.5397074654), (-2.0354691998, 43.5236668469), (-2.0267202042, 43.5267198241), (-2.022523433, 43.5281842947)],
                knots=[0.9714405932, 0.9714405932, 0.9714405932, 0.9714405932, 0.9863004508, 1, 1, 1, 1], degree=3))
        make_face()
    extrude(amount=F1_DEPTH)


solid = f1.part
